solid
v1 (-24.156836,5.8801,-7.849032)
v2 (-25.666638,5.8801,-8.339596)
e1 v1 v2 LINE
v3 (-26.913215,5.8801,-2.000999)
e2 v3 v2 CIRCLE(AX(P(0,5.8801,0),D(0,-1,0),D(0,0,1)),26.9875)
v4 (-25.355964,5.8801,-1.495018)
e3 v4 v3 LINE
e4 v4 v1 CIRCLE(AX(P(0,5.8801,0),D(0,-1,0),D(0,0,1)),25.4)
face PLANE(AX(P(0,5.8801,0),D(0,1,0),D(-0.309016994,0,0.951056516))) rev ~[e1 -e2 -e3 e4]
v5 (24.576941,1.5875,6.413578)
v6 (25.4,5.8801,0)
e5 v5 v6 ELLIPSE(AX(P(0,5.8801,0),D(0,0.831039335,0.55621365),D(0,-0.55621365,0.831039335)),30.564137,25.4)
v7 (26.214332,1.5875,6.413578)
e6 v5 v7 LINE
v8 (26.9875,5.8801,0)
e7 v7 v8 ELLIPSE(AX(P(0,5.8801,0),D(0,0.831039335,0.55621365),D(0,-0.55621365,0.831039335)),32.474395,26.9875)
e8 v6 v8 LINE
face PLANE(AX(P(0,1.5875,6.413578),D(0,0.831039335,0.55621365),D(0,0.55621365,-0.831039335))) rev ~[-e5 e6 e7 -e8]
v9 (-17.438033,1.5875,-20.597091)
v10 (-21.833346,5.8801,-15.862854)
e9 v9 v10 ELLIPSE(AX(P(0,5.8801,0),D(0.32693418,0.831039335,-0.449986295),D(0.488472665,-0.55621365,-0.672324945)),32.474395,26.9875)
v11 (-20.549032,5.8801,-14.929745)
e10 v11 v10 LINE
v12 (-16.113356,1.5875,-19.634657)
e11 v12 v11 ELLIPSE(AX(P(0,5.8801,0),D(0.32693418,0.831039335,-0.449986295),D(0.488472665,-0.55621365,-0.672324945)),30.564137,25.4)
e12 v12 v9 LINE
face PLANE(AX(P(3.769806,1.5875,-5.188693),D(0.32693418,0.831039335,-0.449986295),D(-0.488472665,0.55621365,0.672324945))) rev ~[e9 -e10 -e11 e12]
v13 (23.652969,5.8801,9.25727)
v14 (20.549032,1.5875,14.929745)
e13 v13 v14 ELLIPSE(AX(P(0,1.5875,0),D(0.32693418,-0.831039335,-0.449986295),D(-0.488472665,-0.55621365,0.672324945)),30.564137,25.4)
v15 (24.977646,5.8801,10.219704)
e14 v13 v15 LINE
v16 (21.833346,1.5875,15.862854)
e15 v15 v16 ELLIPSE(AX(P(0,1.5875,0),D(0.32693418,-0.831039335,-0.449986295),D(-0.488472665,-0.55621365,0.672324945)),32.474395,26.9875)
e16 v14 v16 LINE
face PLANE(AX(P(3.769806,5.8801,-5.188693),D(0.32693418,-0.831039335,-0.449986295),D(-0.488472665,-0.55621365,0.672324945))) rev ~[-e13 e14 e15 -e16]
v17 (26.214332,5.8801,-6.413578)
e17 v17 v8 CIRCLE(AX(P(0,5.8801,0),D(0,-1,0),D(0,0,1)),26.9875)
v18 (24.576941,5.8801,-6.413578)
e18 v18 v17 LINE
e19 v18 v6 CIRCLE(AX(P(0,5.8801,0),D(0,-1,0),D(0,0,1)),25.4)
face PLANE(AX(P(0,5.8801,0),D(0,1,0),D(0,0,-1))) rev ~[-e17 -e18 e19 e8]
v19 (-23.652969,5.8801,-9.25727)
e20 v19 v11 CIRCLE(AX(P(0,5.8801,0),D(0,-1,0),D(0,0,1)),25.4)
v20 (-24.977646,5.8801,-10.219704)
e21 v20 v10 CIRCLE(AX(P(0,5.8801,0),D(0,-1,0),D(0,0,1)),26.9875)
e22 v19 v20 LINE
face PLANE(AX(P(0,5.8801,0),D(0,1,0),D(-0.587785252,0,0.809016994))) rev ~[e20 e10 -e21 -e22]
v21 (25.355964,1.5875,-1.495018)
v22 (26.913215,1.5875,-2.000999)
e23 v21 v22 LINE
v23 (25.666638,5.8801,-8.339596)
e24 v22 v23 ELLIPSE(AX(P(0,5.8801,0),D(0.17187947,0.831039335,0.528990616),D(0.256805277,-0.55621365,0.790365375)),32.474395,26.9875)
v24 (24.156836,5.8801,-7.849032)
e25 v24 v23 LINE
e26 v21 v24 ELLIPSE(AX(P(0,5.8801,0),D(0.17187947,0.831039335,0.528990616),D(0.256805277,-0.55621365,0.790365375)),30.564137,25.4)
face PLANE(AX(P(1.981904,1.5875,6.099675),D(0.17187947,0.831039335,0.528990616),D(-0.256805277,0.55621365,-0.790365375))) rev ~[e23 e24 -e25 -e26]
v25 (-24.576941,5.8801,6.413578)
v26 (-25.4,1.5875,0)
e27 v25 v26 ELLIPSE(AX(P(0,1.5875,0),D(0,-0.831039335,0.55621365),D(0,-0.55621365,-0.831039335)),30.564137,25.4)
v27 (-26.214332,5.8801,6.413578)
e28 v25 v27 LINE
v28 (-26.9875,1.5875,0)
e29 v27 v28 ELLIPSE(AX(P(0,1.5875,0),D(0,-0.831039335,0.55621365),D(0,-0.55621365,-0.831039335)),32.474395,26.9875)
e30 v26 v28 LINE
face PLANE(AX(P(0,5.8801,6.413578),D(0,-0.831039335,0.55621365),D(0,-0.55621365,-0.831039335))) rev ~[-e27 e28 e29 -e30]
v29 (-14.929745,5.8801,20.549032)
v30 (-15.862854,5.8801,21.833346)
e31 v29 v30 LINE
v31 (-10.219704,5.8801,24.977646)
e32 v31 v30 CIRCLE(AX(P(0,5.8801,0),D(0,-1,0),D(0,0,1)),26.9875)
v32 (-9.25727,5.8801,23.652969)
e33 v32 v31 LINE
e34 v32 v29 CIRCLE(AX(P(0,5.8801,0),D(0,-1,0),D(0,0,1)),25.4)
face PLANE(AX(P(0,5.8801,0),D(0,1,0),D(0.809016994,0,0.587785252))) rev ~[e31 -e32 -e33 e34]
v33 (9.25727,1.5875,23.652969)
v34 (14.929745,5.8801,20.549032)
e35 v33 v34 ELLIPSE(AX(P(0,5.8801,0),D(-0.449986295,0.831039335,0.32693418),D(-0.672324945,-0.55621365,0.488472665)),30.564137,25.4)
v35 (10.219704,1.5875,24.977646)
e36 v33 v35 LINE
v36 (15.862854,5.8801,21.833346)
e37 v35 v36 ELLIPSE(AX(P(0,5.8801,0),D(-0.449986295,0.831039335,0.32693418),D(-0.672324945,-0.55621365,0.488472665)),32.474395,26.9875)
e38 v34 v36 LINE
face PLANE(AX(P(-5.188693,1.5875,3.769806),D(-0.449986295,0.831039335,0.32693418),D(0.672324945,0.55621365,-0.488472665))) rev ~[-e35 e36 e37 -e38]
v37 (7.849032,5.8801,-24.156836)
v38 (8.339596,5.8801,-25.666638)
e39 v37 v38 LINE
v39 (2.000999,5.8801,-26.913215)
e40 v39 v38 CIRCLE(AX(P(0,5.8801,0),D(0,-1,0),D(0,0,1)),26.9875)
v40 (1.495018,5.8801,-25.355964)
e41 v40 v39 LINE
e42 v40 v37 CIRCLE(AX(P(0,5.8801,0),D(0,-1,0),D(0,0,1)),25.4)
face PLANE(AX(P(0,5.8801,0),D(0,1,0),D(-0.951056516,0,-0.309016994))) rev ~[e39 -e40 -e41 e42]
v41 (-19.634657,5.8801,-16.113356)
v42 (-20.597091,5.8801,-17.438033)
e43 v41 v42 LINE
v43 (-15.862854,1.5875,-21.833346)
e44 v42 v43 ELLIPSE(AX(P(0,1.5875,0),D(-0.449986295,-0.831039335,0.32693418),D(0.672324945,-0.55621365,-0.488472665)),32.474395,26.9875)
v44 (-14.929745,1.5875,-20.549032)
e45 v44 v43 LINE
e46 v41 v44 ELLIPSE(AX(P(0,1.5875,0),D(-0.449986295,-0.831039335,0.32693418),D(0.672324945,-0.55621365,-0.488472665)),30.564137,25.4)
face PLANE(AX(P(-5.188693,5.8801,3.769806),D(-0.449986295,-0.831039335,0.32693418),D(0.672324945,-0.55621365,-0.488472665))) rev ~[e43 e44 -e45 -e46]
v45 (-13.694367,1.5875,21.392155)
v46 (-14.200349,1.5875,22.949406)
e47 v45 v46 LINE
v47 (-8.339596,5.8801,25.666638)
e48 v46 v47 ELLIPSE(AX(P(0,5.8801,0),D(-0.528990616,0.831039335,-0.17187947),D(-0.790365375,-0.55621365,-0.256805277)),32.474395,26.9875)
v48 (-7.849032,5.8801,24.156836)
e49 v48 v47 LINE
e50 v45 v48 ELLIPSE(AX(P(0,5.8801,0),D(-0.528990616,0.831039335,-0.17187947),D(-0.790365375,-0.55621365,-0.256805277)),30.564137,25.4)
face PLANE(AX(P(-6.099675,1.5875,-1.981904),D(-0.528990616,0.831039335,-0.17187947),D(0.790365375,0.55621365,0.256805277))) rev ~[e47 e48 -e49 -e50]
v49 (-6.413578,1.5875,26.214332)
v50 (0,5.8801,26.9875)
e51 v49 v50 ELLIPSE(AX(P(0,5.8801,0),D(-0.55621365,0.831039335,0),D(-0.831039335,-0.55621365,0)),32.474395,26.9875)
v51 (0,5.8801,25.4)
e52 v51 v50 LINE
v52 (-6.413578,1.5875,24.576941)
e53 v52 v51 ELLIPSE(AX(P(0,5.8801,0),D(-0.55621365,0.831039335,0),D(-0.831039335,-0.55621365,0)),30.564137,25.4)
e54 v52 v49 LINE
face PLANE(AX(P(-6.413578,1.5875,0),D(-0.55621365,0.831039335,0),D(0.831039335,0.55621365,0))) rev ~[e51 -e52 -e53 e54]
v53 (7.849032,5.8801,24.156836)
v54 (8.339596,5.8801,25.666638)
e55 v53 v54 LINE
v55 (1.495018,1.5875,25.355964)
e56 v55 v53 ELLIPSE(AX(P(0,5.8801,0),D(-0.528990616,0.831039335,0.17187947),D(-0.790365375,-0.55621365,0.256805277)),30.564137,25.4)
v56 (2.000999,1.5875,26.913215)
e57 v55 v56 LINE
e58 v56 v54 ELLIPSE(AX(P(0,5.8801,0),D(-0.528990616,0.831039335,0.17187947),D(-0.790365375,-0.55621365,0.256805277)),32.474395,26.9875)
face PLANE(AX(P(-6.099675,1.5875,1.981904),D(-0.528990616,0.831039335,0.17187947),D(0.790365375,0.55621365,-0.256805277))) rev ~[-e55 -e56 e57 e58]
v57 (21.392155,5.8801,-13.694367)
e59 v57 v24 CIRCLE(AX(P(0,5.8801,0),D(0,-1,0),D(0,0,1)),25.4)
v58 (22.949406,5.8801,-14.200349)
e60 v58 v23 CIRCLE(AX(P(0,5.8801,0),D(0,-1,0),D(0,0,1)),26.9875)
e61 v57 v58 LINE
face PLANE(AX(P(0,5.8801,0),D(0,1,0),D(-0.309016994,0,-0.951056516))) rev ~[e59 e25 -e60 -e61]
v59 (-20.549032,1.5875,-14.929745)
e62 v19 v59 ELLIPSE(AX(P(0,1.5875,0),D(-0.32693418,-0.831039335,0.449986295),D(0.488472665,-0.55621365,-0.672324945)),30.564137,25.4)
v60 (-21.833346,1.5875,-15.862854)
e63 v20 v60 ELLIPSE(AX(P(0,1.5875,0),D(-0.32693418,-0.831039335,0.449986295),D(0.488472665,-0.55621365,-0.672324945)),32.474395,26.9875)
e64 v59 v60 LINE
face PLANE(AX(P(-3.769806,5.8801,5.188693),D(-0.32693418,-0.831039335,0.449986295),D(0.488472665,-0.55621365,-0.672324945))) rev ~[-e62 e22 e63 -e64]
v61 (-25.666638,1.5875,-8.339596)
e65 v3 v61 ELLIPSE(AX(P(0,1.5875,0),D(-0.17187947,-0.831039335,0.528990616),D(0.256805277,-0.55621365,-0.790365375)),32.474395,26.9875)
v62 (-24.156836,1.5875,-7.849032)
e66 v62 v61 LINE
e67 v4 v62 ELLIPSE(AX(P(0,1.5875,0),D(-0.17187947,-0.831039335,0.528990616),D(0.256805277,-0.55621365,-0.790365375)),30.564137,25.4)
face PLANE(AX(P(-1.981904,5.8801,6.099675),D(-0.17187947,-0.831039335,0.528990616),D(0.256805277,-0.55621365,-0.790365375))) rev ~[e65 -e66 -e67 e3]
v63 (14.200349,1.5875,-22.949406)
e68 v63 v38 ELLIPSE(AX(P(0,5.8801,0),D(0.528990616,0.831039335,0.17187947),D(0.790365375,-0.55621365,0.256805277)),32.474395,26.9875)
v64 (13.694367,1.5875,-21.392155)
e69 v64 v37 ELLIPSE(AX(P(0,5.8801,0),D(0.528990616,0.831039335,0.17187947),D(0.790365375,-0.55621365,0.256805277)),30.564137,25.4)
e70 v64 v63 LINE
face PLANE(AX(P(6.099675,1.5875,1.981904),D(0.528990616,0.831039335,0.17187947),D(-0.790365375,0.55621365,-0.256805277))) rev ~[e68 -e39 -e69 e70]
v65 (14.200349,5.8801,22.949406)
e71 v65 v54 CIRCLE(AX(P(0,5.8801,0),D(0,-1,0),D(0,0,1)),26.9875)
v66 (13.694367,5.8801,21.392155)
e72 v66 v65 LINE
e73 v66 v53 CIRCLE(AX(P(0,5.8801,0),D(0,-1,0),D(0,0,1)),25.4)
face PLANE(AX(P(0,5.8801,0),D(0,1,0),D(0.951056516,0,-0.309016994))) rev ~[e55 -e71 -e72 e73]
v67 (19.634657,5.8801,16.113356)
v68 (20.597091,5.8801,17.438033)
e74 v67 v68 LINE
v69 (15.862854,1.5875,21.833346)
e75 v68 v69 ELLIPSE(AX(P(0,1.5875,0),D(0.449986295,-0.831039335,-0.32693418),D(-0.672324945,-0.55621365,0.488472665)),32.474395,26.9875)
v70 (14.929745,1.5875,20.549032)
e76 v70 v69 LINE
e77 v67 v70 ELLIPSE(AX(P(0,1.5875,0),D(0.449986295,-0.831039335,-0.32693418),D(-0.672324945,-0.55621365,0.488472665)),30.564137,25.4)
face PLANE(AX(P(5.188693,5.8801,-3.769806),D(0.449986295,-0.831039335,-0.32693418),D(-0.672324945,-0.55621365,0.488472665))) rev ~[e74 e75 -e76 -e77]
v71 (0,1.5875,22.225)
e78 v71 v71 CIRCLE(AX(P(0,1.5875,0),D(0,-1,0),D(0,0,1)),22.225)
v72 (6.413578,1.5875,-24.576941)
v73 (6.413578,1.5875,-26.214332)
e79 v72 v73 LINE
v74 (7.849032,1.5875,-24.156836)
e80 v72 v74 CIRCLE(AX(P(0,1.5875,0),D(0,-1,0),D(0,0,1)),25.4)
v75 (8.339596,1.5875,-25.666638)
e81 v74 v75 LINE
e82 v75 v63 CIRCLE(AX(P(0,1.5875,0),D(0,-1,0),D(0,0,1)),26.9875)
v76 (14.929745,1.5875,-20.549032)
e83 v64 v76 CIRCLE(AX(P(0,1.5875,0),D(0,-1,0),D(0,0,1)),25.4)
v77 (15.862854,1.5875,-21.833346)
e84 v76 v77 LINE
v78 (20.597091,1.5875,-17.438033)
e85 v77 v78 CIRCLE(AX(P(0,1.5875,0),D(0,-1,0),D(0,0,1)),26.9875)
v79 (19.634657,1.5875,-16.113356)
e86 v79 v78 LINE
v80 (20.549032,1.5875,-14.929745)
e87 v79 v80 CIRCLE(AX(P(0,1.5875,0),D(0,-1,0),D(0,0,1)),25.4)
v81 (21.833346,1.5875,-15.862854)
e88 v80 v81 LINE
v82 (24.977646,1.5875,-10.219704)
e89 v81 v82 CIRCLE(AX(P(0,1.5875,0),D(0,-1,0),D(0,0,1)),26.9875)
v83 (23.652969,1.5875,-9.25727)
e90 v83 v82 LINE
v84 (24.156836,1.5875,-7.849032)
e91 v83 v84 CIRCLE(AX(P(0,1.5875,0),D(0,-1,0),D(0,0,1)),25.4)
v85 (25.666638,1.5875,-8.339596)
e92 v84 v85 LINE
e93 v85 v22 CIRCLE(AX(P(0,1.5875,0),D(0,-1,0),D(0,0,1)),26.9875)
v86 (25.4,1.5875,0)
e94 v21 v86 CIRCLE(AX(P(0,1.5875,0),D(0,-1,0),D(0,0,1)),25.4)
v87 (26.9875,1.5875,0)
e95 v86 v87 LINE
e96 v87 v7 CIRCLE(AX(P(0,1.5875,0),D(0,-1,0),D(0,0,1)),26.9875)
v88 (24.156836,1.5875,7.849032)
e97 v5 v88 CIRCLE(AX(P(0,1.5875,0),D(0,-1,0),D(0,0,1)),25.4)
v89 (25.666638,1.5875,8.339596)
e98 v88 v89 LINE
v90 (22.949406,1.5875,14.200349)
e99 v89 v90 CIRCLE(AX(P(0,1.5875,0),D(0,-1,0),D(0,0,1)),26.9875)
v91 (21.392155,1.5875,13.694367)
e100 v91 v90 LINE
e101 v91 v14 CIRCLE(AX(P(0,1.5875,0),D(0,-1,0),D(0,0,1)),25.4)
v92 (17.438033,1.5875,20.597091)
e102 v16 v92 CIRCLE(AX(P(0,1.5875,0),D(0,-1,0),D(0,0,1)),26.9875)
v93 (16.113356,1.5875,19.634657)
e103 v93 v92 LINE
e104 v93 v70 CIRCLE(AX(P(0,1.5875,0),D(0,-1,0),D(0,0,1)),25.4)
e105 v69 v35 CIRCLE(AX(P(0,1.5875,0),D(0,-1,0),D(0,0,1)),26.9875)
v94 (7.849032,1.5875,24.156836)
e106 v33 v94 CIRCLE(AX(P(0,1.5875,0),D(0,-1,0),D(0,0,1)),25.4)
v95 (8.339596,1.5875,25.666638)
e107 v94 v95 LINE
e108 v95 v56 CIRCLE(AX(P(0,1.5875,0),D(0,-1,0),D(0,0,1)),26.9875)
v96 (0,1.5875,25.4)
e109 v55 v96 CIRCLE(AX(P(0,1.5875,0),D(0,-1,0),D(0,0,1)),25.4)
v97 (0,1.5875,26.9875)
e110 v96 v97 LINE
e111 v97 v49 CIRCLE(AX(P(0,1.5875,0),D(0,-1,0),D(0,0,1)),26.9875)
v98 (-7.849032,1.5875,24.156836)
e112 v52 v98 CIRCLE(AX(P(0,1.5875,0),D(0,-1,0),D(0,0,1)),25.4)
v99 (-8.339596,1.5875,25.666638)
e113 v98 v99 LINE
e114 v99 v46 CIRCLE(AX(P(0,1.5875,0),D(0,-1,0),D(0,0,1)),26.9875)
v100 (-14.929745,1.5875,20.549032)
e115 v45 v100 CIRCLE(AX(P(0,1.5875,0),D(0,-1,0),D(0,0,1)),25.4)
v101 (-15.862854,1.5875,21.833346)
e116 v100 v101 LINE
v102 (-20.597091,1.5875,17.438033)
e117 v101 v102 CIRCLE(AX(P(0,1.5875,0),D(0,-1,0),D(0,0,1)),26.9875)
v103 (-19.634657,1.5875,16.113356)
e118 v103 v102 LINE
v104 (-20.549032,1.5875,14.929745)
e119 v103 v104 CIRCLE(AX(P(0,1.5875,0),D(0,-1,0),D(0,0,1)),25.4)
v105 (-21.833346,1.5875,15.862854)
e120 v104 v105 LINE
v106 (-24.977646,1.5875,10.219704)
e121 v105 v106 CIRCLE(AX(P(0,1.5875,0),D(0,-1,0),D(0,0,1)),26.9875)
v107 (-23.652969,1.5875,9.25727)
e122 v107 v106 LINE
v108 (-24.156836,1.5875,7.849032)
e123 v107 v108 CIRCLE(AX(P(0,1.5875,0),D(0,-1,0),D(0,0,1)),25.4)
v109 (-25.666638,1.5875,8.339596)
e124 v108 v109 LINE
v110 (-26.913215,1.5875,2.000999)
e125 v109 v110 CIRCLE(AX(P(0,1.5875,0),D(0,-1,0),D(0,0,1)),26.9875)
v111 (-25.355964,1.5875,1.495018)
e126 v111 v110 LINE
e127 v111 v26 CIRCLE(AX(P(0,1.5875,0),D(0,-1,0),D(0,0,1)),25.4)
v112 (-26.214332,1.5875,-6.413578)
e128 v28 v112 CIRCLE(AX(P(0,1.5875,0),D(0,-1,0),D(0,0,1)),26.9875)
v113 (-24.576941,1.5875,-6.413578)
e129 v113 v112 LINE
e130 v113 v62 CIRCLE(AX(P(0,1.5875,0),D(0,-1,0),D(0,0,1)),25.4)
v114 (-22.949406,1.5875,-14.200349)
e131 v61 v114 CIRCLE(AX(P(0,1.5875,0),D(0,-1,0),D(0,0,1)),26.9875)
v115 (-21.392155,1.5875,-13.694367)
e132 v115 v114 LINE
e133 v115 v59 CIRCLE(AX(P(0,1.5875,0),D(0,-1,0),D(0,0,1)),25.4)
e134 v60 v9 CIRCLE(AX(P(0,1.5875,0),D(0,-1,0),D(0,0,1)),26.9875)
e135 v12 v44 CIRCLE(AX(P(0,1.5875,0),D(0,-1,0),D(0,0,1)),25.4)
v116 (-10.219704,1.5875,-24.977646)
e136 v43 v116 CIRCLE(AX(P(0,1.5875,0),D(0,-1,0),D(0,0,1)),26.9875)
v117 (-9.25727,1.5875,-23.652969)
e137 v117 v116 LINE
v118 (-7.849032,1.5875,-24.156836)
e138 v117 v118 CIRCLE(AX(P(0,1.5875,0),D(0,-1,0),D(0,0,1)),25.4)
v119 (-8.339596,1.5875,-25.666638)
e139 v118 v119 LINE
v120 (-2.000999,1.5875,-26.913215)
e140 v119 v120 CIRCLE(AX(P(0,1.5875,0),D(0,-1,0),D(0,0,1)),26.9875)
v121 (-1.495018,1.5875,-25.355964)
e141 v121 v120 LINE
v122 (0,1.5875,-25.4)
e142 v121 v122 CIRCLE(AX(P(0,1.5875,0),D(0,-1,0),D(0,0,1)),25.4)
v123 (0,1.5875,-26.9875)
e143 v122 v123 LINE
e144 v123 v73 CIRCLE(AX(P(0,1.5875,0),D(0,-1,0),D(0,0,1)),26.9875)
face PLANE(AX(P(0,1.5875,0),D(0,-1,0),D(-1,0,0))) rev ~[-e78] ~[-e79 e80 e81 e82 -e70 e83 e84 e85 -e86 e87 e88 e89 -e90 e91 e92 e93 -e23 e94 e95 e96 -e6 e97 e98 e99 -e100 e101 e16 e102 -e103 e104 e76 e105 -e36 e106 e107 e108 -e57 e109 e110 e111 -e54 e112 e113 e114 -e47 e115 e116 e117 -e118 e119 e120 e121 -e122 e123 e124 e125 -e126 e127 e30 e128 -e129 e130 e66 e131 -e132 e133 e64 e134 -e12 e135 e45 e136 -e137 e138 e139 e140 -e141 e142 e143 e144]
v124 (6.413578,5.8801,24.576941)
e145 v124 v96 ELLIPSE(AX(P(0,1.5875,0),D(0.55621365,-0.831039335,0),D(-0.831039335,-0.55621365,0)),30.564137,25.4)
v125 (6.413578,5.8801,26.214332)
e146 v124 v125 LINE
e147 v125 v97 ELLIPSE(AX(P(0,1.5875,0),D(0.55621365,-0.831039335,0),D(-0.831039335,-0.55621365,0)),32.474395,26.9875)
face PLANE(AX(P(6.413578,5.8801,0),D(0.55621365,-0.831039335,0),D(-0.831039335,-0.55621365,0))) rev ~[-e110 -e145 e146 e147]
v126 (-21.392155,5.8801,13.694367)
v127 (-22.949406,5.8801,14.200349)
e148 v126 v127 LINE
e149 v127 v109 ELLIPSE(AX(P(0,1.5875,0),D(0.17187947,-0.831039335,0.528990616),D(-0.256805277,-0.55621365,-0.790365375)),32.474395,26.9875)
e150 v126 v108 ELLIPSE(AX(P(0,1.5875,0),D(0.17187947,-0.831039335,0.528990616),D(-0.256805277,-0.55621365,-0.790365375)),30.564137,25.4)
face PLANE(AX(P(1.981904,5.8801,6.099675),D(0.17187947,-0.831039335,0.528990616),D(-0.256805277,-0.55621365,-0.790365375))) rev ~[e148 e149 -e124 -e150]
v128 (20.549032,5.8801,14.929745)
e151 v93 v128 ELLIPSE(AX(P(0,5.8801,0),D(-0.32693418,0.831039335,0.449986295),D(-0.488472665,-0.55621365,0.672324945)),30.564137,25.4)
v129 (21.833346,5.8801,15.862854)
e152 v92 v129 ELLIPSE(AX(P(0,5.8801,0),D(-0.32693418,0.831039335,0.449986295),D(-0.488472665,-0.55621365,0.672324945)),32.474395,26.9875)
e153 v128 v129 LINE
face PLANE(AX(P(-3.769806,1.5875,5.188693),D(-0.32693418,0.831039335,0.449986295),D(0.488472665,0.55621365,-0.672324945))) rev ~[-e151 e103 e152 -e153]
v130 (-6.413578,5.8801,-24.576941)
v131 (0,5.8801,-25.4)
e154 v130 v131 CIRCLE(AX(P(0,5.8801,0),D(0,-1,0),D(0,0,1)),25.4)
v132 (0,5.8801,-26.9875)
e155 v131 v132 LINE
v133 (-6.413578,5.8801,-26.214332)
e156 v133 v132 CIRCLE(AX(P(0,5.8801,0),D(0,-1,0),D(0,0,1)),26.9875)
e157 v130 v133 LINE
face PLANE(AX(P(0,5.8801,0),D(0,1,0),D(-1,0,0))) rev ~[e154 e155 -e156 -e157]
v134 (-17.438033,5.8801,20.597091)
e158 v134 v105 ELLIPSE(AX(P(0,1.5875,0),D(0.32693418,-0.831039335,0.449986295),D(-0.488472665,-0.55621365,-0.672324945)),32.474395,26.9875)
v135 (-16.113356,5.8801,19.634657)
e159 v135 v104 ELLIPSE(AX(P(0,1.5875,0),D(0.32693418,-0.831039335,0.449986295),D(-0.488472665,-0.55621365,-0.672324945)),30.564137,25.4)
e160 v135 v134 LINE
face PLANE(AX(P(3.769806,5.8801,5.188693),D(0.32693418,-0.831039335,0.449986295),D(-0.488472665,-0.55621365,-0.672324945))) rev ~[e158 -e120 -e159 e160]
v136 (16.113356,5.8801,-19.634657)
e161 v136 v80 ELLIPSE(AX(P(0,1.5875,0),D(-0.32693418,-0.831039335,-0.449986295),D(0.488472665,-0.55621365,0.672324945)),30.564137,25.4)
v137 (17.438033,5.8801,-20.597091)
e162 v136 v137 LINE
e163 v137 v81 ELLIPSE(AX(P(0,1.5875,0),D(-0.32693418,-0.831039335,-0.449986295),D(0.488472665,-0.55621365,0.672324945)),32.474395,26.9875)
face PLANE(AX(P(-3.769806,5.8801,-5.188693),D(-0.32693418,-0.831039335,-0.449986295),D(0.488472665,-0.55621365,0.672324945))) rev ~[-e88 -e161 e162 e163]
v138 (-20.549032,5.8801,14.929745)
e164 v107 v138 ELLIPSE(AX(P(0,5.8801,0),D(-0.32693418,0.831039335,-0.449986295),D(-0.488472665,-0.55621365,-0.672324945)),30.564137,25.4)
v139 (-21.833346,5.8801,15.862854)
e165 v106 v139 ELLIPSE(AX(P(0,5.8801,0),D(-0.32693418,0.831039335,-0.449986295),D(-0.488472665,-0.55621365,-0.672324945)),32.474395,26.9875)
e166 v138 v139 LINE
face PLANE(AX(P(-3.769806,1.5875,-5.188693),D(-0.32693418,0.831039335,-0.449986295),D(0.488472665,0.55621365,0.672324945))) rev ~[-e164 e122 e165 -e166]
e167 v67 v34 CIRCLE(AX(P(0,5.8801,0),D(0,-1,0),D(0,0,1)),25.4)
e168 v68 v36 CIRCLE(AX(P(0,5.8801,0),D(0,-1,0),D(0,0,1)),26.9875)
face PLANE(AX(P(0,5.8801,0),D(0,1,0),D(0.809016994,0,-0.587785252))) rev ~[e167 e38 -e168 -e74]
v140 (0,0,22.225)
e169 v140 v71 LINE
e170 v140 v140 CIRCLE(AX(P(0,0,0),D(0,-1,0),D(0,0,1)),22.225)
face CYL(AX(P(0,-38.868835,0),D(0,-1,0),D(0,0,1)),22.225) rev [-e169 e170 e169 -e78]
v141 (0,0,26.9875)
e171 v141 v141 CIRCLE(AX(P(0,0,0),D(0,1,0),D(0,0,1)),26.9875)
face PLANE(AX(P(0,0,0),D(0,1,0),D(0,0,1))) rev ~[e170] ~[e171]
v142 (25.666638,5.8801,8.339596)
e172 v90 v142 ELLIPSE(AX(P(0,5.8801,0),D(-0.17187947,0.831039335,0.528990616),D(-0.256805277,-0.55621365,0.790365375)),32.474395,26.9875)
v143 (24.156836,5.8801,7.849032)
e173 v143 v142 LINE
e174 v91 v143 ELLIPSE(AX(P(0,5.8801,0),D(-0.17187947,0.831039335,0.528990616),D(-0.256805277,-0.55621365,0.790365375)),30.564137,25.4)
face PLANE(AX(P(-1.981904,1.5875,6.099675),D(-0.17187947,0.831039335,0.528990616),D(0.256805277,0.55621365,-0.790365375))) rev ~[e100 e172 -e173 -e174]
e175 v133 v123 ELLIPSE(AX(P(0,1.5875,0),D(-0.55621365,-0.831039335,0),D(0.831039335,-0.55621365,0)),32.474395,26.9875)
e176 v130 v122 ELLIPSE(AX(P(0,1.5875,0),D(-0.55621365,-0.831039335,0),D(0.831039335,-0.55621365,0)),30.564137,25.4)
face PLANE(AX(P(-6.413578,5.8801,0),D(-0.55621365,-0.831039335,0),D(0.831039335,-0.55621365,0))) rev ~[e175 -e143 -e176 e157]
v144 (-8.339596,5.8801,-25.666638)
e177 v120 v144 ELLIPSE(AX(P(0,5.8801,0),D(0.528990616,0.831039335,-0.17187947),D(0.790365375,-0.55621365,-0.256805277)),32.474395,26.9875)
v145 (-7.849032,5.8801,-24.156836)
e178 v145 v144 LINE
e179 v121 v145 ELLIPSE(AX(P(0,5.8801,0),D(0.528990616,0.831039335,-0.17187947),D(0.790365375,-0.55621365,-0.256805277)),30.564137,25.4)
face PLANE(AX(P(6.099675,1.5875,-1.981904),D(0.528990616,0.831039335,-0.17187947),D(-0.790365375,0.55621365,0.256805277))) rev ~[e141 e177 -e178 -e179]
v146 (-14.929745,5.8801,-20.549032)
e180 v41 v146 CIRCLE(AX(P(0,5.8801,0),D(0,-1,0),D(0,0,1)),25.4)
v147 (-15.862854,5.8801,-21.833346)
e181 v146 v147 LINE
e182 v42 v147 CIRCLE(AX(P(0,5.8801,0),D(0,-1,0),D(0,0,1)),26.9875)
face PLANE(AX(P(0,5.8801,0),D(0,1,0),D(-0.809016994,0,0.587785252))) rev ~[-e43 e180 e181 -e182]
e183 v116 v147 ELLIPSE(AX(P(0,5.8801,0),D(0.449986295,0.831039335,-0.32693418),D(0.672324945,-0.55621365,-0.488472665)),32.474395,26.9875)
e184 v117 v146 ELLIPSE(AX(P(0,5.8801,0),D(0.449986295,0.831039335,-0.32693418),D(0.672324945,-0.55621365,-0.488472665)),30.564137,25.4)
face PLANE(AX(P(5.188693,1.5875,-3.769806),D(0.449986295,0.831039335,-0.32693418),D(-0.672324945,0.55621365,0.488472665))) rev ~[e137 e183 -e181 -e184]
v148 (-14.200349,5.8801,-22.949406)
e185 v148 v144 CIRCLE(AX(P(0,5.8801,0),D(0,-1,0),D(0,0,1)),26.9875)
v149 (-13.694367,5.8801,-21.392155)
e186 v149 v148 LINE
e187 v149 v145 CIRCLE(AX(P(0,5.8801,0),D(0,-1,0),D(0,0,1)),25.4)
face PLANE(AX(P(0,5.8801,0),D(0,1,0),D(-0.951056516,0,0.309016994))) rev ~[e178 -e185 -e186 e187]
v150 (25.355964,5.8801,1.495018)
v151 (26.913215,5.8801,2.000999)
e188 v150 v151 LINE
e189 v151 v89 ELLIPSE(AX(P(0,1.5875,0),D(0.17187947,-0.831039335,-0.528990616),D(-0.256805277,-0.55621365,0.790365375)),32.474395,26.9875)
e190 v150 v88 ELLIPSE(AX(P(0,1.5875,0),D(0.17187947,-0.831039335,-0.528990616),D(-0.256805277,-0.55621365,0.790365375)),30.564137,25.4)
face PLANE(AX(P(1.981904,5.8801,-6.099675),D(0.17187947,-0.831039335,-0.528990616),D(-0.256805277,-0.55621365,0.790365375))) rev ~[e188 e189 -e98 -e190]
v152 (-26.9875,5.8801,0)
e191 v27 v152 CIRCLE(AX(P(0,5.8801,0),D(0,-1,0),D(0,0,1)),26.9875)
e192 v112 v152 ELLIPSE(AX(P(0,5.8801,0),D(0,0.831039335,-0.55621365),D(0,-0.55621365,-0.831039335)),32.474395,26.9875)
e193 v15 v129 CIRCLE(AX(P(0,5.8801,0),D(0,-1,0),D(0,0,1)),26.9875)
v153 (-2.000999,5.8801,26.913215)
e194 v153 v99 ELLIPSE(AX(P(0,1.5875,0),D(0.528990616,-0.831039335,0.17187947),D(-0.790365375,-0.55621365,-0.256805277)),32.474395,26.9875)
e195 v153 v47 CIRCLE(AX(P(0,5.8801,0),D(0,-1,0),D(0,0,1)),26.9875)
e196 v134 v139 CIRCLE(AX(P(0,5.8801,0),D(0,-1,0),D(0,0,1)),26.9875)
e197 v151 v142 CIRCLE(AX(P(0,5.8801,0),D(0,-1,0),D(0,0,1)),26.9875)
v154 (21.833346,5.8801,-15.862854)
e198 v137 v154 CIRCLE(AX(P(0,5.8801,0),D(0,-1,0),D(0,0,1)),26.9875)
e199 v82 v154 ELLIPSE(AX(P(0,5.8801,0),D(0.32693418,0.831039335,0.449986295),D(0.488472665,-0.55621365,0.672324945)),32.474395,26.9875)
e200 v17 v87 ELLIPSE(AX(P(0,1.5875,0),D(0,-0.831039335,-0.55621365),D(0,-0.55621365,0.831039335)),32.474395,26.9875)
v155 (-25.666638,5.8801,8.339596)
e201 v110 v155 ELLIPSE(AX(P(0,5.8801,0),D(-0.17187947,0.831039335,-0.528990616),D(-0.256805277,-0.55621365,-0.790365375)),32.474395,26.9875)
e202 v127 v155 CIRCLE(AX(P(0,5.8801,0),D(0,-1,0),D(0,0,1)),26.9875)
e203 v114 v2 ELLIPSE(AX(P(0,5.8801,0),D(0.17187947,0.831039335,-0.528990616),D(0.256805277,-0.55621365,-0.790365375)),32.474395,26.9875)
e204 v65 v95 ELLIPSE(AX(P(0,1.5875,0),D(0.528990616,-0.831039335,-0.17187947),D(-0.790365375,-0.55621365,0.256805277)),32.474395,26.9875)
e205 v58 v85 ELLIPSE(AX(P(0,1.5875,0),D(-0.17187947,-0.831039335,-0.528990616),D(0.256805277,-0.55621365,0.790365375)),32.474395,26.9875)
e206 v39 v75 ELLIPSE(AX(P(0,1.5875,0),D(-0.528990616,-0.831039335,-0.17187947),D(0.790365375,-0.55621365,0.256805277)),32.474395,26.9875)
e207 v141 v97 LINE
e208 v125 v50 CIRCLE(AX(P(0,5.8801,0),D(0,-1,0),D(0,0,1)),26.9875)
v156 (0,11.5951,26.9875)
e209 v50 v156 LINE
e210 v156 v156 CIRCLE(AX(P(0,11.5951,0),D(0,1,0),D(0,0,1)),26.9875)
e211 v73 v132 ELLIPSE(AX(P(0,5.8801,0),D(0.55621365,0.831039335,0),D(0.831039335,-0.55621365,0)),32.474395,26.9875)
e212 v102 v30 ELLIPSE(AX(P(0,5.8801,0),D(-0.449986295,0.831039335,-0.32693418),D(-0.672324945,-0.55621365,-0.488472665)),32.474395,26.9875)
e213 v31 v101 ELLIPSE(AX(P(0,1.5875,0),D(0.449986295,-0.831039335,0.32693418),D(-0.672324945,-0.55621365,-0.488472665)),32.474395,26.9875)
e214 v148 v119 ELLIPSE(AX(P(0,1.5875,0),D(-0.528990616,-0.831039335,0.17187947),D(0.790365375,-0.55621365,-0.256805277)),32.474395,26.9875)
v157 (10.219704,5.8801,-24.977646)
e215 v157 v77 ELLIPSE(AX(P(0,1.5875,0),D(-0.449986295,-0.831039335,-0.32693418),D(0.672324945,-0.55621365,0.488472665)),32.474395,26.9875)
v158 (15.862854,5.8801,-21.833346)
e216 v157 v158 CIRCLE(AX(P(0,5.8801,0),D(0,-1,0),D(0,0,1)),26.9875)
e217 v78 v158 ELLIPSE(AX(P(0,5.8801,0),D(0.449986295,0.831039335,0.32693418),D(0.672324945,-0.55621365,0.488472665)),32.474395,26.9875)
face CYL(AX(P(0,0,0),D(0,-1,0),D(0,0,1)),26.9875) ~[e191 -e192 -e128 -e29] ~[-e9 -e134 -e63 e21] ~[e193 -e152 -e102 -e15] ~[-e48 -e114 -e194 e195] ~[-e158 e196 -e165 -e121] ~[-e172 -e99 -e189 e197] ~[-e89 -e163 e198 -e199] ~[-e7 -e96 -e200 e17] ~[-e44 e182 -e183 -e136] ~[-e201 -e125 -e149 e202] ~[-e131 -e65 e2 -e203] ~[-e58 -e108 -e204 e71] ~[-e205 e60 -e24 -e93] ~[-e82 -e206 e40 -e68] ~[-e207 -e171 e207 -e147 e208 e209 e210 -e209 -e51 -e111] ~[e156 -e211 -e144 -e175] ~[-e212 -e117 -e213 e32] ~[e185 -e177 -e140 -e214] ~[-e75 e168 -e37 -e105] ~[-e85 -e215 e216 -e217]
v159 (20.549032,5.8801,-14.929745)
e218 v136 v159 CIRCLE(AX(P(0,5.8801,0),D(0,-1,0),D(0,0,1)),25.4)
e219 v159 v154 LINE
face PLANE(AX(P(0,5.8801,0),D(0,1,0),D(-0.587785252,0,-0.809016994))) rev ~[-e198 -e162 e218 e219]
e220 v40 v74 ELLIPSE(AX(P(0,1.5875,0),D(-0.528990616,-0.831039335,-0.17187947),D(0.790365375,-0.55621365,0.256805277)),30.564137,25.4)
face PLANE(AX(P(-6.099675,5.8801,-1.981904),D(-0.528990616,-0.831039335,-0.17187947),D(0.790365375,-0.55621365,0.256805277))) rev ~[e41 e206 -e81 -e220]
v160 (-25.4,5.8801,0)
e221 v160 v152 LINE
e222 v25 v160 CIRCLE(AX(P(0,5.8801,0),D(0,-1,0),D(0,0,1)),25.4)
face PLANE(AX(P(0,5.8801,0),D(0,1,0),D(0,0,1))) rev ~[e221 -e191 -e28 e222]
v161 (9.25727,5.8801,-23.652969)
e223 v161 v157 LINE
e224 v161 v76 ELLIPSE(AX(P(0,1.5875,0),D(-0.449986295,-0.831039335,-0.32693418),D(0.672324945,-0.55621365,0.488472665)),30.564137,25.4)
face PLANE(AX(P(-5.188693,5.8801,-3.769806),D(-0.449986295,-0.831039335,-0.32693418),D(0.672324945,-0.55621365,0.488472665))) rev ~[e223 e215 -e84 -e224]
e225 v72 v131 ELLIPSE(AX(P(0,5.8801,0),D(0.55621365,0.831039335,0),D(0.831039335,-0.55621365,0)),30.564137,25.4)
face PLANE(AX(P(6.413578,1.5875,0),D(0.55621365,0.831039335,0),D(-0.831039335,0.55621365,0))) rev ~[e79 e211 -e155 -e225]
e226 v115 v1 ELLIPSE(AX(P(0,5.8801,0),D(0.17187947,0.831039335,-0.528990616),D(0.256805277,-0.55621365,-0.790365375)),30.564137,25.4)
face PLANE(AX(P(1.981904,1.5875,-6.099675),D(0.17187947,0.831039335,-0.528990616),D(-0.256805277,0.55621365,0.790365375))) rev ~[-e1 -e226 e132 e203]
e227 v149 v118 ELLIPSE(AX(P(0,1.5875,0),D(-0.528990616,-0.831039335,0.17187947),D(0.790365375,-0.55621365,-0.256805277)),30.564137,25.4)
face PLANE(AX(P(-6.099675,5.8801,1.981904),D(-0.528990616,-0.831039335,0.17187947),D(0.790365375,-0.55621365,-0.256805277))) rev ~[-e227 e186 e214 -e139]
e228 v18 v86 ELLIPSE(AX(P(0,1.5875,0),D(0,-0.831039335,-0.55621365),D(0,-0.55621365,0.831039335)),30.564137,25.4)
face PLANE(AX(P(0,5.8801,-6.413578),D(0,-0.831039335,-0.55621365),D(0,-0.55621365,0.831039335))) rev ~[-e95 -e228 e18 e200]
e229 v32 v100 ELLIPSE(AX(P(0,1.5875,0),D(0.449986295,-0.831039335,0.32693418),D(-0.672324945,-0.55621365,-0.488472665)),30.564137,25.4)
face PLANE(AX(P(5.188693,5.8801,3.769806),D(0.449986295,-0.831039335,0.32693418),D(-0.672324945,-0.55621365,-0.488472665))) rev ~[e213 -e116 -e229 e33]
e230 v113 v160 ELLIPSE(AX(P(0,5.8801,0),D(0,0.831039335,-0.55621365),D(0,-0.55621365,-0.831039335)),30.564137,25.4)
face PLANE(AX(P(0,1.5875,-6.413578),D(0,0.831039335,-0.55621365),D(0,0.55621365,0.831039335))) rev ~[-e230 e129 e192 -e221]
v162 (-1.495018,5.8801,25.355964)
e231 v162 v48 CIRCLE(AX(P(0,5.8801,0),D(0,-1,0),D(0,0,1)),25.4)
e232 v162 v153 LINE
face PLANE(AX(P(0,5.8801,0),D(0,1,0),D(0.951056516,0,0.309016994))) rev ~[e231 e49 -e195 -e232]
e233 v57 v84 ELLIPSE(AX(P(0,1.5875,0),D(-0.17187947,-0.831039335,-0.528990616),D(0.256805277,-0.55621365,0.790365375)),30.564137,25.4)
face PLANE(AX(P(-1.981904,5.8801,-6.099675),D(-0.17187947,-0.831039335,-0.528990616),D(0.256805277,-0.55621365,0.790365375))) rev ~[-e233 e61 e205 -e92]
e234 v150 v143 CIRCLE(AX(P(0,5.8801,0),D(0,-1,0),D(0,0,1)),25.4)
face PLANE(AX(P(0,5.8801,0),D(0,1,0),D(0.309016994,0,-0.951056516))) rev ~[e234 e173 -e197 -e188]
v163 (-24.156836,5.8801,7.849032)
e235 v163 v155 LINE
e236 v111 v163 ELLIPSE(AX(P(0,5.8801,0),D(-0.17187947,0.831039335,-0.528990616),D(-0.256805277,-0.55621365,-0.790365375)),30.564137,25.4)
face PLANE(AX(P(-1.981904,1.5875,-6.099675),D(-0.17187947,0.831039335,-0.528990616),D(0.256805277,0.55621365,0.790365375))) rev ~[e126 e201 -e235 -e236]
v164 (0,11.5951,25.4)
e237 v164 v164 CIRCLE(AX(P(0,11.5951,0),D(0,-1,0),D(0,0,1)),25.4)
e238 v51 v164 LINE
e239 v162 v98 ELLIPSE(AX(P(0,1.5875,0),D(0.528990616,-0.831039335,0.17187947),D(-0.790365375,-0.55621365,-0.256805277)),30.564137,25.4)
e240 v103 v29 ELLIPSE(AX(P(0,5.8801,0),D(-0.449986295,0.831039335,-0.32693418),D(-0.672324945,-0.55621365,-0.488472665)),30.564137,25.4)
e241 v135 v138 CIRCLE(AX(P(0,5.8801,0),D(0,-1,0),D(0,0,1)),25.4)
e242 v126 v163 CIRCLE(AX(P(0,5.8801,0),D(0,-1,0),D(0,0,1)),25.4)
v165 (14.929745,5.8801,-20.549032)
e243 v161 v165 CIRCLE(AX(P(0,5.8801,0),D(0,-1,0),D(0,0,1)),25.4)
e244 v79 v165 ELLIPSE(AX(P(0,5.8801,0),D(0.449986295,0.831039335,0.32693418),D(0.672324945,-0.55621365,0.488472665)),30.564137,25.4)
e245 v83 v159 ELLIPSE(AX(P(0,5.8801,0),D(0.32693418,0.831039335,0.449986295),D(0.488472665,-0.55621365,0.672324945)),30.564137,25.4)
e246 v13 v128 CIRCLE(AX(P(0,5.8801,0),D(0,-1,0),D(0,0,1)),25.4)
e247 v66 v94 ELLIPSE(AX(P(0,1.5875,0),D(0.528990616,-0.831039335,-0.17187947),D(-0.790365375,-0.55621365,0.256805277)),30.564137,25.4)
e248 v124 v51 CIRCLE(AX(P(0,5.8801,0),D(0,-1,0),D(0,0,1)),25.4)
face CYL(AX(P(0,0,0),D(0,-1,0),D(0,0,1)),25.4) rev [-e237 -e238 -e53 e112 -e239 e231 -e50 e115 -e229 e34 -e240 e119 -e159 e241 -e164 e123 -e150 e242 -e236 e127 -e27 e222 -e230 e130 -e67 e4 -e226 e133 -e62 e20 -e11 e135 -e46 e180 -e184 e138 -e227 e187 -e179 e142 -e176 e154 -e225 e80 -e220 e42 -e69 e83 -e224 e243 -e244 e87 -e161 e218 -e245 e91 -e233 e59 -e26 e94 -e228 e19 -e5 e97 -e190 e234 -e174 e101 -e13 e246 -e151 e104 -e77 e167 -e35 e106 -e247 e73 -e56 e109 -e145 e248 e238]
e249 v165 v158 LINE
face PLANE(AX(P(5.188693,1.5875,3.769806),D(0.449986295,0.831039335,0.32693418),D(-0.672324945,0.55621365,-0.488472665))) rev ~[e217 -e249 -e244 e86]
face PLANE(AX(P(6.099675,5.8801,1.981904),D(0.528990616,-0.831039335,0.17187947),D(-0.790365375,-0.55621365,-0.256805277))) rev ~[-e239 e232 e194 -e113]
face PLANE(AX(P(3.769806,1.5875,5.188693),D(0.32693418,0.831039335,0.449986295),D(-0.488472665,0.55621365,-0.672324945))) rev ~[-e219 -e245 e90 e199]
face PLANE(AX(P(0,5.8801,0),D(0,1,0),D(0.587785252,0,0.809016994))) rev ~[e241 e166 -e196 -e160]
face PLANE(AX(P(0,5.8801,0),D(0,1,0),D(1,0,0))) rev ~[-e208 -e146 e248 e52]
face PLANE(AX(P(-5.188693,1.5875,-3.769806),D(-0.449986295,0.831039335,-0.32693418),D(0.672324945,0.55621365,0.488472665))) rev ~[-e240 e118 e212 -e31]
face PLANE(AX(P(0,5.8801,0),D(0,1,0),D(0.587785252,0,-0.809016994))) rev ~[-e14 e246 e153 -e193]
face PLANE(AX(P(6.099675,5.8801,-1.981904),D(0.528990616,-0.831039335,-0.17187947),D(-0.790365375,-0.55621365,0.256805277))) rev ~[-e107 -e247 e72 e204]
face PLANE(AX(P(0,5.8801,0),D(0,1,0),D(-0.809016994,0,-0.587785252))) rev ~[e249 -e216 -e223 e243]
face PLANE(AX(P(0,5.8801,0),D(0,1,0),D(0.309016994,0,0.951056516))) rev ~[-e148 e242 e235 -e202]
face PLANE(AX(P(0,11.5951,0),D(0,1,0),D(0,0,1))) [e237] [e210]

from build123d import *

# Parameters (mm, degrees)
SKETCH2_R               = 26.9875
BOSS_EXTRUDE1_DEPTH     = 11.5951
SHELL1_T                = -1.5875
CUT_EXTRUDE1_DEPTH      = 40.456334983
CUT_EXTRUDE1_DEPTH_BACK = 40.456334983
SKETCH5_R               = 22.225
CUT_EXTRUDE2_DEPTH      = 38.1
CIRPATTERN3_COUNT       = 20


with BuildPart() as part:
    # Sketch2 → Boss-Extrude1 (new body)
    with BuildSketch(Plane(origin=(0, 0, 0), x_dir=(1, 0, 0), z_dir=(0, 1, 0))):
        Circle(SKETCH2_R)
    extrude(amount=BOSS_EXTRUDE1_DEPTH)

    # Shell1
    shell1_openings = [part.faces().sort_by_distance(p)[0] for p in [
        (0, 11.5951, 0),
    ]]
    offset(amount=SHELL1_T, openings=shell1_openings, kind=Kind.INTERSECTION)

    # Sketch5 → Cut-Extrude1 (cut, two sides: drawn at the far end of the back side and taken through both)
    with BuildSketch(Plane(origin=(0, 1.5875, 0), x_dir=(1, 0, 0), z_dir=(0, 1, 0)).offset(-CUT_EXTRUDE1_DEPTH_BACK)):
        Circle(SKETCH5_R)
    extrude(amount=CUT_EXTRUDE1_DEPTH + CUT_EXTRUDE1_DEPTH_BACK, mode=Mode.SUBTRACT)

    # Sketch6 → Cut-Extrude2 (cut)
    with BuildSketch(Plane.XY):
        Polygon((6.413577678, 1.5875), (0, 5.8801), (-6.413577678, 5.8801), (0, 1.5875), align=None)
    cut_extrude2 = extrude(amount=-CUT_EXTRUDE2_DEPTH, mode=Mode.SUBTRACT)

    # CirPattern3: Cut-Extrude2 ×20 about axis
    cirpattern3_axis = Axis((0, 11.5951, 0), (0, -1, 0))
    for i in range(1, CIRPATTERN3_COUNT):
        add(cut_extrude2.rotate(cirpattern3_axis, i * 360 / CIRPATTERN3_COUNT), mode=Mode.SUBTRACT)


solid = part.part
